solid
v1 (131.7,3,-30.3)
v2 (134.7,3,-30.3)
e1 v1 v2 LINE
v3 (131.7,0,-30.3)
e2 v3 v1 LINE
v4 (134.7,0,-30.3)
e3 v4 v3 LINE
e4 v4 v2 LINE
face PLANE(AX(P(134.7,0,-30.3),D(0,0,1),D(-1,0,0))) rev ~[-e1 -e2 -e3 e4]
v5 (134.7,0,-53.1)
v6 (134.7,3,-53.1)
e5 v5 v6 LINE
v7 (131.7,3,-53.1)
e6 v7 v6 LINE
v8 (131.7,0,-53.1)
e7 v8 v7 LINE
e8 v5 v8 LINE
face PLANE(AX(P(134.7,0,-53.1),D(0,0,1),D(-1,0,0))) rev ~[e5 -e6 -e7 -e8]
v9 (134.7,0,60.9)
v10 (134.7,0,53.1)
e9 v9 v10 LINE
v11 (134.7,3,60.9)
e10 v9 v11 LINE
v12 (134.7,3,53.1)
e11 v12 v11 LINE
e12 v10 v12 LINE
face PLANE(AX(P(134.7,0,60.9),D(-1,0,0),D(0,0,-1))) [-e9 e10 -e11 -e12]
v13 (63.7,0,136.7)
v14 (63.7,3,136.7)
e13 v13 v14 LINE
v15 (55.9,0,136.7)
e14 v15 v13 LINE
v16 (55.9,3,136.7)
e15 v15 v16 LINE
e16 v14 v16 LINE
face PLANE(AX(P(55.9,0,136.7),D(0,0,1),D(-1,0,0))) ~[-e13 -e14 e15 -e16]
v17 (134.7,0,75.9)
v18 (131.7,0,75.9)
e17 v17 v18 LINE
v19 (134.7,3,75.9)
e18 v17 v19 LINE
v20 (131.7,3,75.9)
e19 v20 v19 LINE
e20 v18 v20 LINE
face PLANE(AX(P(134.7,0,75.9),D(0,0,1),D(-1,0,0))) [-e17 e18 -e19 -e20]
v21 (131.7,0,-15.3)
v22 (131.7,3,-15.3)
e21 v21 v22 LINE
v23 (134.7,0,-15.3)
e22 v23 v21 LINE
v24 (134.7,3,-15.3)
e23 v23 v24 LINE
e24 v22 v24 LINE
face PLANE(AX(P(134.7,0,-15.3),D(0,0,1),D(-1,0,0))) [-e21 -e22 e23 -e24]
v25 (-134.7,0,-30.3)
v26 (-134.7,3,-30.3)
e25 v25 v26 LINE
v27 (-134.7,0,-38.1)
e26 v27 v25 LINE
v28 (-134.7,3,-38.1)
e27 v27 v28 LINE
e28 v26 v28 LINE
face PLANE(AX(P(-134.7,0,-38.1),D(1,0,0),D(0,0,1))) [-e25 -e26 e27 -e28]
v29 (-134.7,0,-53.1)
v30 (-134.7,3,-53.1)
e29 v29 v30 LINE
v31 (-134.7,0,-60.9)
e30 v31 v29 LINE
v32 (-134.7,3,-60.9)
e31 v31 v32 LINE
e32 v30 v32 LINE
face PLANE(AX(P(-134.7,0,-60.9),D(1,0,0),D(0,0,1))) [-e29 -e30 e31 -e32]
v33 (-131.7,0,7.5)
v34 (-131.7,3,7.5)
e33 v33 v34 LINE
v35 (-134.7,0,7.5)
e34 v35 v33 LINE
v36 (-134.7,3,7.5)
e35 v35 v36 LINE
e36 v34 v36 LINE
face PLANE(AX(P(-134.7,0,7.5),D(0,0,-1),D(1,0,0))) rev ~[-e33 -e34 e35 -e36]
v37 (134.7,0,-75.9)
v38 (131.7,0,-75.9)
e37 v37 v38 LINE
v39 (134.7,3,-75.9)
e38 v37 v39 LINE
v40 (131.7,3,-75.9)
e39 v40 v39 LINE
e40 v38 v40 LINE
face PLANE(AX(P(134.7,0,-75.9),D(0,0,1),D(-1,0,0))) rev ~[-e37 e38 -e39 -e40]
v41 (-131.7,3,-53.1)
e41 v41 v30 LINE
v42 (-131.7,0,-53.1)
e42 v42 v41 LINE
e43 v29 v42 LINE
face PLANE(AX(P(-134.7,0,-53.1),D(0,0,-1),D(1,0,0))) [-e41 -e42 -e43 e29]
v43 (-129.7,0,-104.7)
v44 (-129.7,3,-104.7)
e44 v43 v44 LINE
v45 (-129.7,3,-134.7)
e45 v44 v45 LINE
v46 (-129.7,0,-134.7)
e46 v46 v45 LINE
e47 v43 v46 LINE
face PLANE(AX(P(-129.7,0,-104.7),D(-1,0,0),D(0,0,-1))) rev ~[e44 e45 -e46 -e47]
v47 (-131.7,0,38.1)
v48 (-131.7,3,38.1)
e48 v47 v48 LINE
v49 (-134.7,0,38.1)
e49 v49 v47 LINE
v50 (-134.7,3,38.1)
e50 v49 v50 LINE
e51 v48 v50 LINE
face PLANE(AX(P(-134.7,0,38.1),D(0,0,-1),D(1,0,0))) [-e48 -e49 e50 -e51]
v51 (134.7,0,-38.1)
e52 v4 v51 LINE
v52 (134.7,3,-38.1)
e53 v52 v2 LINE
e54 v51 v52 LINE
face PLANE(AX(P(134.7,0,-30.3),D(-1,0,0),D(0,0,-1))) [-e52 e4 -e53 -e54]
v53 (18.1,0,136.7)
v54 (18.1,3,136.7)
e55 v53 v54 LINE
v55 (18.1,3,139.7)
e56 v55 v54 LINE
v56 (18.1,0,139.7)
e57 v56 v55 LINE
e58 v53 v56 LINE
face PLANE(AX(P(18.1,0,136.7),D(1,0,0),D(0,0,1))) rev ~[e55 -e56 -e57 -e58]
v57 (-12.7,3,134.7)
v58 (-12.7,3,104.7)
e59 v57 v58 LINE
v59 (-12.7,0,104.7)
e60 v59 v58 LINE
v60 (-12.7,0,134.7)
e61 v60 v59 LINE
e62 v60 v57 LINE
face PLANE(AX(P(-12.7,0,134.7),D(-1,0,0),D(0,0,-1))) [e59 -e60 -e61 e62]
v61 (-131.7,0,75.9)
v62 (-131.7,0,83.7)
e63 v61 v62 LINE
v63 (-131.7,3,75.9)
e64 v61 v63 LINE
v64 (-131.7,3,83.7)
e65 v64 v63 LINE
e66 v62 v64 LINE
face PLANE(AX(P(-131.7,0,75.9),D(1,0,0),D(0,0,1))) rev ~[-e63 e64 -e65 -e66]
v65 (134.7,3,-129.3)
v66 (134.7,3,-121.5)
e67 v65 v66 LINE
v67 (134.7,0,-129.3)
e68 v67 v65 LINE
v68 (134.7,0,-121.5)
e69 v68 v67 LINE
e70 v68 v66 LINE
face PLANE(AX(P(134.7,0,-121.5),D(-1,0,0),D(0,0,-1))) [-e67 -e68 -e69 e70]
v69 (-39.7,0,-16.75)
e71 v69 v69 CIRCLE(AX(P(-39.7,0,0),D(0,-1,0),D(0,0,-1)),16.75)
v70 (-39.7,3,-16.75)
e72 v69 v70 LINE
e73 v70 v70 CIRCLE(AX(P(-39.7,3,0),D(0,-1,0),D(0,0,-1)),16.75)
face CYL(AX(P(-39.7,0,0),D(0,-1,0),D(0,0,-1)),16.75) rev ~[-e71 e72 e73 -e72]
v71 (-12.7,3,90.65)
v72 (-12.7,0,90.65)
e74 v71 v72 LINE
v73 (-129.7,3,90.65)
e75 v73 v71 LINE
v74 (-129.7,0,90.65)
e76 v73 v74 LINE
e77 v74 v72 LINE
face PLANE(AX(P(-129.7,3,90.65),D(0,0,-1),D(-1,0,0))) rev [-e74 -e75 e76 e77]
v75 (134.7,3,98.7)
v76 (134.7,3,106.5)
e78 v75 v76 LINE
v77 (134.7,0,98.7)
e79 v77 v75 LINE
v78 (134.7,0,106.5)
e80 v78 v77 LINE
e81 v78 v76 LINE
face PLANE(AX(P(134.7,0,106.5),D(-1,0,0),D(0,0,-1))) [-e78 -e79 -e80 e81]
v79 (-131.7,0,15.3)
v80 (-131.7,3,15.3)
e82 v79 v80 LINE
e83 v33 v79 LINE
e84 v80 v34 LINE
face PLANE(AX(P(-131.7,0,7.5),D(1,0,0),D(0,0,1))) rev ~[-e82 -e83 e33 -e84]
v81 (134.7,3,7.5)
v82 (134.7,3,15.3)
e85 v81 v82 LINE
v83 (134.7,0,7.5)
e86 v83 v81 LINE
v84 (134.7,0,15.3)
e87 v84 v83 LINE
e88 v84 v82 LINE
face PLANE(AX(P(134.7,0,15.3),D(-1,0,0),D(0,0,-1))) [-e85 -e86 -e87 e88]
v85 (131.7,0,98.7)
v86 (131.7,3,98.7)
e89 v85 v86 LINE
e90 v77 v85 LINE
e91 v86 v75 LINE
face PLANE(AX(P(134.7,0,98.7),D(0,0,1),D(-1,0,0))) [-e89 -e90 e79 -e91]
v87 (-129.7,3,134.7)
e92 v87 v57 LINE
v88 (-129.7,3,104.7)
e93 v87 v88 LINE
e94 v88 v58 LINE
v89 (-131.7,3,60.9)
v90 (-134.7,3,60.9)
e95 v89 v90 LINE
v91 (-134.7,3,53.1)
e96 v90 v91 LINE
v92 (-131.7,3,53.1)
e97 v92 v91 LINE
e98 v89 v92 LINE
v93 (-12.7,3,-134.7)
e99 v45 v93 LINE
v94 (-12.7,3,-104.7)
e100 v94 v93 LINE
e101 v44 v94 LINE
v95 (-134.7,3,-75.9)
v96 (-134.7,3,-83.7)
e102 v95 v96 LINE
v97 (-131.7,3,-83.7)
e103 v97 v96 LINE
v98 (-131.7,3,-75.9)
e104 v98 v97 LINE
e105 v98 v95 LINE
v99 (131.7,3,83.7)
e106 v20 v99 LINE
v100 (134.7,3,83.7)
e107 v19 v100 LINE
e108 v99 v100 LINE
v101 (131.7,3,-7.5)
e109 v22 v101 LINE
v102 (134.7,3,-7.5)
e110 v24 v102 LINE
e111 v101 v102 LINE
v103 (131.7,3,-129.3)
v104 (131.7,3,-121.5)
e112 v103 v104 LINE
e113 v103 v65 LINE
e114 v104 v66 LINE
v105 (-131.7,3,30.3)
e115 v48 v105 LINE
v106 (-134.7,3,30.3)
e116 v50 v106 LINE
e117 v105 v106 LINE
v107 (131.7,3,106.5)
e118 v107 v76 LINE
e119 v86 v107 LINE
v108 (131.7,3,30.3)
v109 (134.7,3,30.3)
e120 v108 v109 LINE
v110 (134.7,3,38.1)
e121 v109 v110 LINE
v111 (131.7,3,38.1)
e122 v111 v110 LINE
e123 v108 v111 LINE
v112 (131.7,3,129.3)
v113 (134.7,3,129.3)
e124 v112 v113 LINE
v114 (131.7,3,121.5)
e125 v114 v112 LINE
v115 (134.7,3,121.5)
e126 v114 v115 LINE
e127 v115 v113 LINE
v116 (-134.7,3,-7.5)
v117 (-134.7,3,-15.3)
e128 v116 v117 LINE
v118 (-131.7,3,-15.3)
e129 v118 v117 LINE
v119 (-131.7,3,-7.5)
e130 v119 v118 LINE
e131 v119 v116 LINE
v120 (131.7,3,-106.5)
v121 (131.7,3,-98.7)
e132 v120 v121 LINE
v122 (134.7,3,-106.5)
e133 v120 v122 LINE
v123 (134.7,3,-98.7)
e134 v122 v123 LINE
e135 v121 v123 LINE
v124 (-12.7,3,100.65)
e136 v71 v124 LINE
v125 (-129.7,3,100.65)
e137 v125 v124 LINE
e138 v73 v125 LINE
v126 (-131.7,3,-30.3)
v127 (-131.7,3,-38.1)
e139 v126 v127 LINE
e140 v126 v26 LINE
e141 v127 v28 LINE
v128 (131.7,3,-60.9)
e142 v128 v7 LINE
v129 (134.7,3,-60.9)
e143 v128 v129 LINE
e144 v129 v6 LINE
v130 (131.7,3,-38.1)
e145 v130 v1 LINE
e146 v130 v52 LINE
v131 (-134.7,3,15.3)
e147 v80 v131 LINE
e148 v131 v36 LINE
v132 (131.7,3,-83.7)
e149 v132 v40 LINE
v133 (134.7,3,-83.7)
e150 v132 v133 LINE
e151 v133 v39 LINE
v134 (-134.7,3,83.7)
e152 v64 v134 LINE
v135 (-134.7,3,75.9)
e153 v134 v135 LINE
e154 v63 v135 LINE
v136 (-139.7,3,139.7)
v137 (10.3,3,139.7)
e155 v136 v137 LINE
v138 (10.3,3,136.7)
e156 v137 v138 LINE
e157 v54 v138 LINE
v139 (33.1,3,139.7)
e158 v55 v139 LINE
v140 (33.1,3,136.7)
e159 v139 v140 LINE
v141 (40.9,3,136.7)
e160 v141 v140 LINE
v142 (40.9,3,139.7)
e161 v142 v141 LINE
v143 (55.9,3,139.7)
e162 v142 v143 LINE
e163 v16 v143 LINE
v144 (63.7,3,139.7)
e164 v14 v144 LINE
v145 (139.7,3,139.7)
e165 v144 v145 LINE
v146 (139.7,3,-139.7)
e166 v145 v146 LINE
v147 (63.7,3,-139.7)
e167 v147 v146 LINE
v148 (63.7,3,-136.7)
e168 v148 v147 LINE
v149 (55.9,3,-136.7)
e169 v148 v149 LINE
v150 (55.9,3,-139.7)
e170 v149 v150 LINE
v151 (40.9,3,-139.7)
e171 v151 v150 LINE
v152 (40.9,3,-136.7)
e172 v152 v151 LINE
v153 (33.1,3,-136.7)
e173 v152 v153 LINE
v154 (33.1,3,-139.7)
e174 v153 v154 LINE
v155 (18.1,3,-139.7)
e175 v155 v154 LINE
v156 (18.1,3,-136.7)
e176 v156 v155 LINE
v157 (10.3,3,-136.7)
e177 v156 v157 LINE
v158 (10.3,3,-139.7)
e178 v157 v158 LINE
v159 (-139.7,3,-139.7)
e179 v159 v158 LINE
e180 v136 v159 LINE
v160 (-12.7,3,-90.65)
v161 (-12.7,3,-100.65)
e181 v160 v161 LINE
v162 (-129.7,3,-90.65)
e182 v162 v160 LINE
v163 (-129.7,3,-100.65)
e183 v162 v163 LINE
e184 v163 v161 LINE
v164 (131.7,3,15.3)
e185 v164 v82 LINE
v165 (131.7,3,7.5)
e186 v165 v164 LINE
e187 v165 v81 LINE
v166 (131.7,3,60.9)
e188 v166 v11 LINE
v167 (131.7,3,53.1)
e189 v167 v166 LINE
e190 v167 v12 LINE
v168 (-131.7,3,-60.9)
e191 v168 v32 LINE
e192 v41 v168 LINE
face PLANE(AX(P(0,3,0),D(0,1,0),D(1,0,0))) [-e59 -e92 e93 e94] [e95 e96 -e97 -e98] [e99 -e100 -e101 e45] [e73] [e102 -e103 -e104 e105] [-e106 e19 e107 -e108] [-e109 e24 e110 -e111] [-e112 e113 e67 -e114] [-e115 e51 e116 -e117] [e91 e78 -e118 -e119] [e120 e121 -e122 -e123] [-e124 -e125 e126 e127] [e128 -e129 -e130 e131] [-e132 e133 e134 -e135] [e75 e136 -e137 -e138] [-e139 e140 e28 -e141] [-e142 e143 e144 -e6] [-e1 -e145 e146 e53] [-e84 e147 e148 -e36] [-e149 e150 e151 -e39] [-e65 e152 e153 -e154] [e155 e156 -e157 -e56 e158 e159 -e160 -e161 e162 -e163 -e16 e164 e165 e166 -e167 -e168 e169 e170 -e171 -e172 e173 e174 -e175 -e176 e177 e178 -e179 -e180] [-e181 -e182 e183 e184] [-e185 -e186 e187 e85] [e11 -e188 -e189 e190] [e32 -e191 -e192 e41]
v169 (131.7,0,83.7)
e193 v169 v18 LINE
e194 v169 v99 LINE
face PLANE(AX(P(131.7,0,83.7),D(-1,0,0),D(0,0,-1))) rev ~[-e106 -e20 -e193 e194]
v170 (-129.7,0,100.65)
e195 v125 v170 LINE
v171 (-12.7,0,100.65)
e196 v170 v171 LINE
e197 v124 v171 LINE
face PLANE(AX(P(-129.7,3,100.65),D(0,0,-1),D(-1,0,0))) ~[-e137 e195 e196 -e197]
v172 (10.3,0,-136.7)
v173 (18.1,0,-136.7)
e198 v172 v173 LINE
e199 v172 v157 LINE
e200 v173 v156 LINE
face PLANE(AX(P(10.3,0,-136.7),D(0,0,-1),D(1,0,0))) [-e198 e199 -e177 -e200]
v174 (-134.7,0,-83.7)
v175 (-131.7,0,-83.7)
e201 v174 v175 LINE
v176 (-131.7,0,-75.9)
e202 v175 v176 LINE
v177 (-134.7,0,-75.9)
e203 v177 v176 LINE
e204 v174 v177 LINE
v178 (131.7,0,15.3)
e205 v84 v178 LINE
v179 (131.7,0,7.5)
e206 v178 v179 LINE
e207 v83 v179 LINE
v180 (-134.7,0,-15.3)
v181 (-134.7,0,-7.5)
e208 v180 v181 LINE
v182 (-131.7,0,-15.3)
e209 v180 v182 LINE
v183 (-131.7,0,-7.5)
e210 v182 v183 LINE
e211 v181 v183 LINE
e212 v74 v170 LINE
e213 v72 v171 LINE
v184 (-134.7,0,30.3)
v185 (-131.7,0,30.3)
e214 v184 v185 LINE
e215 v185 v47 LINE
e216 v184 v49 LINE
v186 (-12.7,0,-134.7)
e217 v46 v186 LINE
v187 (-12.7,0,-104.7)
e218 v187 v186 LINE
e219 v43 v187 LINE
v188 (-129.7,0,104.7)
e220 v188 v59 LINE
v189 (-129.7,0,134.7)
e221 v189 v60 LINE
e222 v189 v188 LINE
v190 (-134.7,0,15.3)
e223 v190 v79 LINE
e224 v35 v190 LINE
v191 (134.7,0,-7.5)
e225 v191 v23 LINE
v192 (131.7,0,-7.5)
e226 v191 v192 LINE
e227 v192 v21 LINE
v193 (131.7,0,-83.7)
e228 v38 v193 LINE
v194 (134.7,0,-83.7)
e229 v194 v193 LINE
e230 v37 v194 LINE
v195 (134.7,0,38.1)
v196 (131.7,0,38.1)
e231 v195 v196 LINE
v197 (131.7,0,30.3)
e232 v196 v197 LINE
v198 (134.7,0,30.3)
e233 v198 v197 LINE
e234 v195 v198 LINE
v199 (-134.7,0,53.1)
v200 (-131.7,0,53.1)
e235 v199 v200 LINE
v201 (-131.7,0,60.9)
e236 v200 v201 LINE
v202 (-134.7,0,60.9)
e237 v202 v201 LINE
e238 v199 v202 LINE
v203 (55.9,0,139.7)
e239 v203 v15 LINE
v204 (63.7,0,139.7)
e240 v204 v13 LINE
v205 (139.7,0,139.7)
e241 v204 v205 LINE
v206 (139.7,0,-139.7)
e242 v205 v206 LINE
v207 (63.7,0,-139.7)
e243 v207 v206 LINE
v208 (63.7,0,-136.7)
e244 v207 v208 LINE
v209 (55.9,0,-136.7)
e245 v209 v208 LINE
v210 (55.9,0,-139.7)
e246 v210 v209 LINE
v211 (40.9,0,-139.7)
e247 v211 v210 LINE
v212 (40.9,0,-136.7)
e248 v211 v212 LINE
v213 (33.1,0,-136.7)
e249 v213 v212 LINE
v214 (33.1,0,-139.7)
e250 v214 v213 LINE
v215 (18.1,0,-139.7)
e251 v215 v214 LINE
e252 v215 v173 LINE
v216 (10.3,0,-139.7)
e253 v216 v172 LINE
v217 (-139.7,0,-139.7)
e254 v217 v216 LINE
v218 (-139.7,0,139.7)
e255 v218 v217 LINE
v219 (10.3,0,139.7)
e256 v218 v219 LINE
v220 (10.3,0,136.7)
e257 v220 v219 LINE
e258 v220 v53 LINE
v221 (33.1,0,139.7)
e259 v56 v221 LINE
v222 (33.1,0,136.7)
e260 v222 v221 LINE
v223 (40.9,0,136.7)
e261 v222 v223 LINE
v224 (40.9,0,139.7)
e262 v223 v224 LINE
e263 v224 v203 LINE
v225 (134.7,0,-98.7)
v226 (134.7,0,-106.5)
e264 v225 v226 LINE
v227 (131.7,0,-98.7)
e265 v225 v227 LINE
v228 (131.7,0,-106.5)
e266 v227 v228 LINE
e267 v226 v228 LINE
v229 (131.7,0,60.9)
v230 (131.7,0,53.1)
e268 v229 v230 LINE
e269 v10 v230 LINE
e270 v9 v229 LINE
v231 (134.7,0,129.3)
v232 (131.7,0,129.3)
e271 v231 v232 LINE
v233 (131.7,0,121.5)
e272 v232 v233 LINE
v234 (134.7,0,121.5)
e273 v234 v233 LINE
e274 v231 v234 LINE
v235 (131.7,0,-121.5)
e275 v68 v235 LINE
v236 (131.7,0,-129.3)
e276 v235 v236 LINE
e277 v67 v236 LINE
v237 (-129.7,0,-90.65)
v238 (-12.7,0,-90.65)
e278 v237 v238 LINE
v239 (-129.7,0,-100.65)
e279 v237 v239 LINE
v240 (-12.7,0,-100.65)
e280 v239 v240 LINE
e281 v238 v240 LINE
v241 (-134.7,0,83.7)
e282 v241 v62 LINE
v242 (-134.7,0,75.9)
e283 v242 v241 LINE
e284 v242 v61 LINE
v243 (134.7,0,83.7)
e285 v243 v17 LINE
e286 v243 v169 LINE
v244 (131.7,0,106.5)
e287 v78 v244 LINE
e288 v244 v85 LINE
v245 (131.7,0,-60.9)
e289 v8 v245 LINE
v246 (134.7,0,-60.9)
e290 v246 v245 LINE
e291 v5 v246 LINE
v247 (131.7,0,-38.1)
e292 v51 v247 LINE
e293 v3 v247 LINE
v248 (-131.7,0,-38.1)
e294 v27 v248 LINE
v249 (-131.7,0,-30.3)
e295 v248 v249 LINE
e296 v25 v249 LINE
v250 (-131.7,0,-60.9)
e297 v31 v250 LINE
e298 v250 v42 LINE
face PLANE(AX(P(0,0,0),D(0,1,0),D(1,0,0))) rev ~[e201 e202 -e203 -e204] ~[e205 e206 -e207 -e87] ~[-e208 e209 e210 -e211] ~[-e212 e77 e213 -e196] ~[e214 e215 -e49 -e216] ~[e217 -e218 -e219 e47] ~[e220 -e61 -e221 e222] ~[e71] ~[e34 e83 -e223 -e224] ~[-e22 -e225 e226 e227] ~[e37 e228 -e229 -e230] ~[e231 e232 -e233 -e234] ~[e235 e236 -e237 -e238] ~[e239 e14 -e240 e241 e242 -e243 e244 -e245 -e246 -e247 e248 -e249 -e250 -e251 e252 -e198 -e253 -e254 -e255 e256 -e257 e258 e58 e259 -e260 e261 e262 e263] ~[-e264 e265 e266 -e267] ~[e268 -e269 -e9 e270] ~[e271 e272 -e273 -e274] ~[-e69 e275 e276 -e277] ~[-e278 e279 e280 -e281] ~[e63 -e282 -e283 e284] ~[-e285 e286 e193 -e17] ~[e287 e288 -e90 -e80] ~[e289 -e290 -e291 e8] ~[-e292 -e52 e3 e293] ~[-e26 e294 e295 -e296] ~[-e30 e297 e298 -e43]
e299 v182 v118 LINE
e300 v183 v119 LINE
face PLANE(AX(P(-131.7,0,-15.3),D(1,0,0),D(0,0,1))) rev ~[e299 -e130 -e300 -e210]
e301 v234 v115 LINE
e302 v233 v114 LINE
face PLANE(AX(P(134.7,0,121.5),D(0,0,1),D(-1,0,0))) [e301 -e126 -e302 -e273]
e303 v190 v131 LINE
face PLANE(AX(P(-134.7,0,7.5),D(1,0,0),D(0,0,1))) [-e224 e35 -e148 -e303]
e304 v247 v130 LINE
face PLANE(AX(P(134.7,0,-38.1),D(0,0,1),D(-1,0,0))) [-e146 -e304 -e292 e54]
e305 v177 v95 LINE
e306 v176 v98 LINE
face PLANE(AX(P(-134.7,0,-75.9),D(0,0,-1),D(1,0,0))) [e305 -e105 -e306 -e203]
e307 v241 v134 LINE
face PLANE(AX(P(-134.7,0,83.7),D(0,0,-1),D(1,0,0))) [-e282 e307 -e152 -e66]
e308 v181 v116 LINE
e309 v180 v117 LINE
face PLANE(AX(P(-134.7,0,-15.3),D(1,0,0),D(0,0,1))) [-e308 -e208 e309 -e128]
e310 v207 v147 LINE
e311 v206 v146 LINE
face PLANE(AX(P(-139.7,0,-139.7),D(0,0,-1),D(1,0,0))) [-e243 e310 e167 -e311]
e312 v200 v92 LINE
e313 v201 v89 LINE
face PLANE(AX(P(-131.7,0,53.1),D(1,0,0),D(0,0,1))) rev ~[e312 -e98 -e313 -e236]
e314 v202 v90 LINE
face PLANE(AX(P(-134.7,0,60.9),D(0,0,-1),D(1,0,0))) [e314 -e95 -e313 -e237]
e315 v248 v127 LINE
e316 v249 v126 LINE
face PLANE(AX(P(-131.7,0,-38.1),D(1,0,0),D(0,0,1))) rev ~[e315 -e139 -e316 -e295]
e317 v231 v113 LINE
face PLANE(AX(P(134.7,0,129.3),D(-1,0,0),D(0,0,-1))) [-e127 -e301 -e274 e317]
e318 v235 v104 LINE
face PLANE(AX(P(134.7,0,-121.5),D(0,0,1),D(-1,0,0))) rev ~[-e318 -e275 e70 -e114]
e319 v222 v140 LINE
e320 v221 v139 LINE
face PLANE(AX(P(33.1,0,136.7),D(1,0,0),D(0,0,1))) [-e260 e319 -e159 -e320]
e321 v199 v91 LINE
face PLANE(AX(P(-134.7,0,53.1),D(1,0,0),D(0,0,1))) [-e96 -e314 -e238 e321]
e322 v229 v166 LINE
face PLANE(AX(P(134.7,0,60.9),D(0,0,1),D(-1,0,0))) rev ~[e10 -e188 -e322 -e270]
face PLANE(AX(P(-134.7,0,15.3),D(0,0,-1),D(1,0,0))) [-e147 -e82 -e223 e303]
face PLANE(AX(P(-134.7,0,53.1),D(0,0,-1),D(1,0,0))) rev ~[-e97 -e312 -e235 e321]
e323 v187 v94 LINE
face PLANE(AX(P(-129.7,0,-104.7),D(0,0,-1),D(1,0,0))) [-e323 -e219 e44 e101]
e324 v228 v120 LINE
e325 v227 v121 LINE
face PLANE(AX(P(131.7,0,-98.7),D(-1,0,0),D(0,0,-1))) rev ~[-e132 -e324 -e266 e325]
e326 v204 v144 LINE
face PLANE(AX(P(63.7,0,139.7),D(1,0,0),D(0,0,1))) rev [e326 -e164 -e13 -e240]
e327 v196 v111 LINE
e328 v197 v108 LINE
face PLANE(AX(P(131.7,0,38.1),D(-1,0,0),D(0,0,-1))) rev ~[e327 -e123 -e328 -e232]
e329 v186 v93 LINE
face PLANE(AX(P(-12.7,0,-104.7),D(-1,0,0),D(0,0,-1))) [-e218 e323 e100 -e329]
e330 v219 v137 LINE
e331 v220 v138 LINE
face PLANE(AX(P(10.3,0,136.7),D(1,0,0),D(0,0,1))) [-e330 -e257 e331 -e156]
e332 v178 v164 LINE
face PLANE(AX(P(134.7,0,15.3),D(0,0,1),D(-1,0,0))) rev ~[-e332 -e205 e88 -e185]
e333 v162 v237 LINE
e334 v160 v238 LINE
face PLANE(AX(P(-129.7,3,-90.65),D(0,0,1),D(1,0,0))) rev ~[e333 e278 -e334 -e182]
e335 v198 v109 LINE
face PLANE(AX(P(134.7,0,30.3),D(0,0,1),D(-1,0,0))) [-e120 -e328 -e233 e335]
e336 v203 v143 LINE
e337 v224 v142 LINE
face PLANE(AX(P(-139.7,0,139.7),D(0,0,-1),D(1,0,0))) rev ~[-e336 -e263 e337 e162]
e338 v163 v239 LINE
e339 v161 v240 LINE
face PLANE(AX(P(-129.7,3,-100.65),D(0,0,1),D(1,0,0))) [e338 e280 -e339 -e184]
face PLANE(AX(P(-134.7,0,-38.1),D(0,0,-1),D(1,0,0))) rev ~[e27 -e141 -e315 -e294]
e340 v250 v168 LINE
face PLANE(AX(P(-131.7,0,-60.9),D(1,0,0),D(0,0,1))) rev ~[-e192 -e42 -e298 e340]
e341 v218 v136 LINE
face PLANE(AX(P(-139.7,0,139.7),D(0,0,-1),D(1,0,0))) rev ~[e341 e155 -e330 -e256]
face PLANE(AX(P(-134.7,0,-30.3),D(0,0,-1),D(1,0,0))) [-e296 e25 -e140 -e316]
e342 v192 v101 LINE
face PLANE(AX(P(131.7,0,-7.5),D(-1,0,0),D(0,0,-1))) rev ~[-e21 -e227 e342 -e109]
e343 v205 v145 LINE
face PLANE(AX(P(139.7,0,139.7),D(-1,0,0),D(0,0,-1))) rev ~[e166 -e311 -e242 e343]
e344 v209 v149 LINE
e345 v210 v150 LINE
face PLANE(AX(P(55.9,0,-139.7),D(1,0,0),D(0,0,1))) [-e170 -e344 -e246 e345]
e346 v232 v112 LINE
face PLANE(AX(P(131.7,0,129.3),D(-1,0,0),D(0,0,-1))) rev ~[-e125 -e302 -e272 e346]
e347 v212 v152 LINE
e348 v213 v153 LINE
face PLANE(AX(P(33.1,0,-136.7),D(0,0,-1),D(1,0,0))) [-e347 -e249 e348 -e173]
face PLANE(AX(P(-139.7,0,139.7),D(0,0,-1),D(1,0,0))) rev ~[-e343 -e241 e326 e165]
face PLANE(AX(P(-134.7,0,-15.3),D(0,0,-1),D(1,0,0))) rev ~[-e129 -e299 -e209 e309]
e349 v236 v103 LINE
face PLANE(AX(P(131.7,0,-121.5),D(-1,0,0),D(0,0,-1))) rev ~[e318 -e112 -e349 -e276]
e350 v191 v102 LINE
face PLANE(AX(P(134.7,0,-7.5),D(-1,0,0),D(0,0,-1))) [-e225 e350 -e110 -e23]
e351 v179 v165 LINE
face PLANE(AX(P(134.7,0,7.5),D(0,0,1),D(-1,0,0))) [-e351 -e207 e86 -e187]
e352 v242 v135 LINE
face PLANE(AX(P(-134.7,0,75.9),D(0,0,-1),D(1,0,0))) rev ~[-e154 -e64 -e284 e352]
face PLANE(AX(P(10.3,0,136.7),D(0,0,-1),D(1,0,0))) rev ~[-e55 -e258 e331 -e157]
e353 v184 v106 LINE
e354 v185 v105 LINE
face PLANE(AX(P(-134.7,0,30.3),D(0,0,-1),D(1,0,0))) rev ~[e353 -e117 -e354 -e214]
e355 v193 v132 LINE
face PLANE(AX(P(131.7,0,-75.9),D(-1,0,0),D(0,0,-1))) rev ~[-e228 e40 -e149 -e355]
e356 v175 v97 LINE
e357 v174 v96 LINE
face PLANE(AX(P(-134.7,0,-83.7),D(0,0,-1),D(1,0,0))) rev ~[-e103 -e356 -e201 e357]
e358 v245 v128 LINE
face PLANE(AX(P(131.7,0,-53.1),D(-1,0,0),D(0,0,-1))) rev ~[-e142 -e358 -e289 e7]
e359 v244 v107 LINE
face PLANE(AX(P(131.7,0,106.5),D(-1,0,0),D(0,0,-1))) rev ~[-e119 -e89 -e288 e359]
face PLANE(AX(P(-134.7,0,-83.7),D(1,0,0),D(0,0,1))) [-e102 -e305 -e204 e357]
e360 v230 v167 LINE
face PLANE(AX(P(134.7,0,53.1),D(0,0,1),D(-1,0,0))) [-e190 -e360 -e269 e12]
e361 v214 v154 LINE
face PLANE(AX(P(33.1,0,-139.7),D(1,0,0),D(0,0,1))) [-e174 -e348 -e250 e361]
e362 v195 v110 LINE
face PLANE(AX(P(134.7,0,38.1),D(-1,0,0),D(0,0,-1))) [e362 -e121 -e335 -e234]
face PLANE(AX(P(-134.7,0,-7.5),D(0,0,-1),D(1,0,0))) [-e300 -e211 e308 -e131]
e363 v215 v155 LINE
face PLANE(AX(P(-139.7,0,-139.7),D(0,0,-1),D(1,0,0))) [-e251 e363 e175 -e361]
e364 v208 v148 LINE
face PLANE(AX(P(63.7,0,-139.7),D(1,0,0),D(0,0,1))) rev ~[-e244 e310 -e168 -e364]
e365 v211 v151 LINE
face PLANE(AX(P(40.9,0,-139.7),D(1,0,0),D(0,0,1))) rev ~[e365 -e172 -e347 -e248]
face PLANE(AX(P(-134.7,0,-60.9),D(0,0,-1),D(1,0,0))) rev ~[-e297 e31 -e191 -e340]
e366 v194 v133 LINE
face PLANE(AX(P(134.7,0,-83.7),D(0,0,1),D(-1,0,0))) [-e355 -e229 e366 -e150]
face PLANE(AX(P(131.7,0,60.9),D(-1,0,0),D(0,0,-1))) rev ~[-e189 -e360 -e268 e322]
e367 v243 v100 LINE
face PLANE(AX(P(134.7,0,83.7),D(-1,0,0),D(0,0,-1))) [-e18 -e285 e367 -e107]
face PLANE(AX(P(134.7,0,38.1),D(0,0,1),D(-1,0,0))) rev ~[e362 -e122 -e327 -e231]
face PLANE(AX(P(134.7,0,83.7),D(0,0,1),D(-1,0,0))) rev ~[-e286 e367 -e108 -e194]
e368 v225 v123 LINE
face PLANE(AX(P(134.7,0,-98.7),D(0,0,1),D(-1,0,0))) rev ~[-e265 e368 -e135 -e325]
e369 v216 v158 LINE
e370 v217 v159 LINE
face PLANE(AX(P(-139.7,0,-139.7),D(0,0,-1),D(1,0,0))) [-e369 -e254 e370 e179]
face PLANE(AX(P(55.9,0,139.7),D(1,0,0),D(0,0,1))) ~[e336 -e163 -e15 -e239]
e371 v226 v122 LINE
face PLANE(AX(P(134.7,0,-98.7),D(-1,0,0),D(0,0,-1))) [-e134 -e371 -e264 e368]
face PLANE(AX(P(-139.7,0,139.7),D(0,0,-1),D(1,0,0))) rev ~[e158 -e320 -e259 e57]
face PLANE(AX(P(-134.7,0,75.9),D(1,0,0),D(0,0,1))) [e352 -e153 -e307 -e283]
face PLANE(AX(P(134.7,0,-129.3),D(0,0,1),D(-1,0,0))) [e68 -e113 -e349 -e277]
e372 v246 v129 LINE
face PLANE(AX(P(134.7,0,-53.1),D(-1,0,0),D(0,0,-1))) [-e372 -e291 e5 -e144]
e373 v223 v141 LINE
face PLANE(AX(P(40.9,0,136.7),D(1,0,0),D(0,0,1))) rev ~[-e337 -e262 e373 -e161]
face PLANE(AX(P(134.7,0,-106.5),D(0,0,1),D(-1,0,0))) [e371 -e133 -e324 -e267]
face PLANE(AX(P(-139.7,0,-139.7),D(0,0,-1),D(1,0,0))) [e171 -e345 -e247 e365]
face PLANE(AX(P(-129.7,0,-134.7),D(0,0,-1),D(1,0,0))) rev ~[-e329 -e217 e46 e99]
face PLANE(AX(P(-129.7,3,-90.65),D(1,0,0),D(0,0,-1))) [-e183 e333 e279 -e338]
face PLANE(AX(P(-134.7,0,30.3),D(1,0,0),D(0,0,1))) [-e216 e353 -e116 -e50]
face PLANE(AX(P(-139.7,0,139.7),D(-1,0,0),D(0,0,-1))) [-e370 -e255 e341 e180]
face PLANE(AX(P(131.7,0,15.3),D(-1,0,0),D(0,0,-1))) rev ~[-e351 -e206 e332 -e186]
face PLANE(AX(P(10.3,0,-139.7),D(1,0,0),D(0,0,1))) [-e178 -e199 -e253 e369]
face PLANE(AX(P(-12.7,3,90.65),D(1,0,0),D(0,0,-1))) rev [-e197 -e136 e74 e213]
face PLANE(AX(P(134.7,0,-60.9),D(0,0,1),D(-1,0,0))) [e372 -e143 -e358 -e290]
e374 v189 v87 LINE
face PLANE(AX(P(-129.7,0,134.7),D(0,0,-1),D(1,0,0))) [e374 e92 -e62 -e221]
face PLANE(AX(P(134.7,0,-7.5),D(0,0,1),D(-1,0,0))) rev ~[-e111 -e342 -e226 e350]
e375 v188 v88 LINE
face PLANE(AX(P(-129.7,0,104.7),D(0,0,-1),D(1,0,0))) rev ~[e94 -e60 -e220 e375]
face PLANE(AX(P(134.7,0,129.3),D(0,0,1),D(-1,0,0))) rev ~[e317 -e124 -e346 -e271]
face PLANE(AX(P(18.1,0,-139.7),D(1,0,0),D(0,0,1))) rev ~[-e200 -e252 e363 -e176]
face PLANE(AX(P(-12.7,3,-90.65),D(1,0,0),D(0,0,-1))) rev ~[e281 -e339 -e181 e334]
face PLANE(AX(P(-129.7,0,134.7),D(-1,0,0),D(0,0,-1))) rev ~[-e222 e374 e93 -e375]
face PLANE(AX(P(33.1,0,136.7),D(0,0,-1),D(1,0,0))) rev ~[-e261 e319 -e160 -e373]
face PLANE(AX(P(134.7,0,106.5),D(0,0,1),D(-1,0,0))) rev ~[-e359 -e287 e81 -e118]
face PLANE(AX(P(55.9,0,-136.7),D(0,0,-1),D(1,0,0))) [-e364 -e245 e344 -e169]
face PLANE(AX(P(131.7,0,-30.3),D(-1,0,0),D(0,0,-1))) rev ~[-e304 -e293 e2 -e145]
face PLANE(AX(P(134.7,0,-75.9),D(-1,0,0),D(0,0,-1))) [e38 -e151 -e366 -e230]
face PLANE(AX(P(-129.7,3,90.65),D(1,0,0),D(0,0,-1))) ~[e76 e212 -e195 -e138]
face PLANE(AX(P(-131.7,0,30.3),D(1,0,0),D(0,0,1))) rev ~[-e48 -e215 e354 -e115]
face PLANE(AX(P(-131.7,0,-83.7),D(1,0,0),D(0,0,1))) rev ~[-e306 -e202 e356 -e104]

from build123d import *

# Parameters (mm, degrees)
SKETCH1_W               = 279.4
SKETCH1_H               = 279.4
SKETCH1_W_2             = 117
SKETCH1_H_2             = 30
BOSS_EXTRUDE1_DEPTH     = 3
SKETCH2_W               = 117
SKETCH2_H               = 10
CUT_EXTRUDE1_DEPTH      = 10
SKETCH3_W               = 3
SKETCH3_H               = 7.8
CUT_EXTRUDE2_DEPTH      = 198.588410591
LPATTERN1_COUNT         = 12
LPATTERN1_PITCH         = 22.8
SKETCH5_W               = 7.8
SKETCH5_H               = 3
CUT_EXTRUDE3_DEPTH      = 198.588410591
LPATTERN2_COUNT         = 3
LPATTERN2_PITCH         = 22.8
MIRROR2_COPY_1_SKETCH_W = 7.8
MIRROR2_COPY_1_SKETCH_H = 3
MIRROR2_COPY_1_DEPTH    = 198.588410591
MIRROR2_COPY_2_SKETCH_W = 7.8
MIRROR2_COPY_2_SKETCH_H = 3
MIRROR2_COPY_2_DEPTH    = 198.588410591
SKETCH6_W               = 3
SKETCH6_H               = 7.8
CUT_EXTRUDE4_DEPTH      = 198.588410591
LPATTERN3_COUNT         = 8
LPATTERN3_PITCH         = 22.8
SKETCH7_R               = 16.75
CUT_EXTRUDE5_DEPTH      = 198.588410591


with BuildPart() as part:
    # Sketch1 → Boss-Extrude1 (new body)
    with BuildSketch(Plane(origin=(0, 0, 0), x_dir=(1, 0, 0), z_dir=(0, 1, 0))):
        Rectangle(SKETCH1_W, SKETCH1_H)
        with Locations((-71.2, 119.7)):
            Rectangle(SKETCH1_W_2, SKETCH1_H_2, mode=Mode.SUBTRACT)
        with Locations((-71.2, -119.7)):
            Rectangle(SKETCH1_W_2, SKETCH1_H_2, mode=Mode.SUBTRACT)
    extrude(amount=BOSS_EXTRUDE1_DEPTH)

    # Sketch2 → Cut-Extrude1 (cut)
    with BuildSketch(Plane(origin=(0, 3, 0), x_dir=(1, 0, 0), z_dir=(0, 1, 0))):
        with Locations((-71.2, 95.65)):
            Rectangle(SKETCH2_W, SKETCH2_H)
    cut_extrude1 = extrude(amount=-CUT_EXTRUDE1_DEPTH, mode=Mode.SUBTRACT)

    # Mirror1: Cut-Extrude1 across plane
    add(cut_extrude1.mirror(Plane.XY), mode=Mode.SUBTRACT)

    # Sketch3 → Cut-Extrude2 (cut, through all)
    with BuildSketch(Plane(origin=(0, 0, 0), x_dir=(-1, 0, 0), z_dir=(0, -1, 0))):
        with Locations((-133.2, 125.4)):
            Rectangle(SKETCH3_W, SKETCH3_H)
    cut_extrude2 = extrude(amount=-CUT_EXTRUDE2_DEPTH, mode=Mode.SUBTRACT)

    # LPattern1: Cut-Extrude2 ×12
    with Locations(*[(0, 0, i * LPATTERN1_PITCH) for i in range(1, LPATTERN1_COUNT)]):
        add(cut_extrude2, mode=Mode.SUBTRACT)

    # Sketch5 → Cut-Extrude3 (cut, through all)
    with BuildSketch(Plane.XZ):
        with Locations((59.8, -138.2)):
            Rectangle(SKETCH5_W, SKETCH5_H)
    cut_extrude3 = extrude(amount=-CUT_EXTRUDE3_DEPTH, mode=Mode.SUBTRACT)

    # LPattern2: Cut-Extrude3 ×3
    with Locations(*[(-i * LPATTERN2_PITCH, 0, 0) for i in range(1, LPATTERN2_COUNT)]):
        add(cut_extrude3, mode=Mode.SUBTRACT)

    # Mirror2: Cut-Extrude3 across plane
    add(cut_extrude3.mirror(Plane.XY), mode=Mode.SUBTRACT)

    # Mirror2 copy 1 sketch → Mirror2 copy 1 (cut, through all)
    with BuildSketch(Plane(origin=(-22.8, 0, 0), x_dir=(1, 0, 0), z_dir=(0, -1, 0))):
        with Locations((59.8, 138.2)):
            Rectangle(MIRROR2_COPY_1_SKETCH_W, MIRROR2_COPY_1_SKETCH_H)
    extrude(amount=-MIRROR2_COPY_1_DEPTH, mode=Mode.SUBTRACT)

    # Mirror2 copy 2 sketch → Mirror2 copy 2 (cut, through all)
    with BuildSketch(Plane(origin=(-45.6, 0, 0), x_dir=(1, 0, 0), z_dir=(0, -1, 0))):
        with Locations((59.8, 138.2)):
            Rectangle(MIRROR2_COPY_2_SKETCH_W, MIRROR2_COPY_2_SKETCH_H)
    extrude(amount=-MIRROR2_COPY_2_DEPTH, mode=Mode.SUBTRACT)

    # Sketch6 → Cut-Extrude4 (cut, through all)
    with BuildSketch(Plane.XZ):
        with Locations((-133.2, -79.8)):
            Rectangle(SKETCH6_W, SKETCH6_H)
    cut_extrude4 = extrude(amount=-CUT_EXTRUDE4_DEPTH, mode=Mode.SUBTRACT)

    # LPattern3: Cut-Extrude4 ×8
    with Locations(*[(0, 0, i * LPATTERN3_PITCH) for i in range(1, LPATTERN3_COUNT)]):
        add(cut_extrude4, mode=Mode.SUBTRACT)

    # Sketch7 → Cut-Extrude5 (cut, through all)
    with BuildSketch(Plane(origin=(0, 0, 0), x_dir=(-1, 0, 0), z_dir=(0, -1, 0))):
        with Locations(Location((39.7, 0, 0), (0, 0, 90))):
            Circle(SKETCH7_R)
    extrude(amount=-CUT_EXTRUDE5_DEPTH, mode=Mode.SUBTRACT)


solid = part.part
